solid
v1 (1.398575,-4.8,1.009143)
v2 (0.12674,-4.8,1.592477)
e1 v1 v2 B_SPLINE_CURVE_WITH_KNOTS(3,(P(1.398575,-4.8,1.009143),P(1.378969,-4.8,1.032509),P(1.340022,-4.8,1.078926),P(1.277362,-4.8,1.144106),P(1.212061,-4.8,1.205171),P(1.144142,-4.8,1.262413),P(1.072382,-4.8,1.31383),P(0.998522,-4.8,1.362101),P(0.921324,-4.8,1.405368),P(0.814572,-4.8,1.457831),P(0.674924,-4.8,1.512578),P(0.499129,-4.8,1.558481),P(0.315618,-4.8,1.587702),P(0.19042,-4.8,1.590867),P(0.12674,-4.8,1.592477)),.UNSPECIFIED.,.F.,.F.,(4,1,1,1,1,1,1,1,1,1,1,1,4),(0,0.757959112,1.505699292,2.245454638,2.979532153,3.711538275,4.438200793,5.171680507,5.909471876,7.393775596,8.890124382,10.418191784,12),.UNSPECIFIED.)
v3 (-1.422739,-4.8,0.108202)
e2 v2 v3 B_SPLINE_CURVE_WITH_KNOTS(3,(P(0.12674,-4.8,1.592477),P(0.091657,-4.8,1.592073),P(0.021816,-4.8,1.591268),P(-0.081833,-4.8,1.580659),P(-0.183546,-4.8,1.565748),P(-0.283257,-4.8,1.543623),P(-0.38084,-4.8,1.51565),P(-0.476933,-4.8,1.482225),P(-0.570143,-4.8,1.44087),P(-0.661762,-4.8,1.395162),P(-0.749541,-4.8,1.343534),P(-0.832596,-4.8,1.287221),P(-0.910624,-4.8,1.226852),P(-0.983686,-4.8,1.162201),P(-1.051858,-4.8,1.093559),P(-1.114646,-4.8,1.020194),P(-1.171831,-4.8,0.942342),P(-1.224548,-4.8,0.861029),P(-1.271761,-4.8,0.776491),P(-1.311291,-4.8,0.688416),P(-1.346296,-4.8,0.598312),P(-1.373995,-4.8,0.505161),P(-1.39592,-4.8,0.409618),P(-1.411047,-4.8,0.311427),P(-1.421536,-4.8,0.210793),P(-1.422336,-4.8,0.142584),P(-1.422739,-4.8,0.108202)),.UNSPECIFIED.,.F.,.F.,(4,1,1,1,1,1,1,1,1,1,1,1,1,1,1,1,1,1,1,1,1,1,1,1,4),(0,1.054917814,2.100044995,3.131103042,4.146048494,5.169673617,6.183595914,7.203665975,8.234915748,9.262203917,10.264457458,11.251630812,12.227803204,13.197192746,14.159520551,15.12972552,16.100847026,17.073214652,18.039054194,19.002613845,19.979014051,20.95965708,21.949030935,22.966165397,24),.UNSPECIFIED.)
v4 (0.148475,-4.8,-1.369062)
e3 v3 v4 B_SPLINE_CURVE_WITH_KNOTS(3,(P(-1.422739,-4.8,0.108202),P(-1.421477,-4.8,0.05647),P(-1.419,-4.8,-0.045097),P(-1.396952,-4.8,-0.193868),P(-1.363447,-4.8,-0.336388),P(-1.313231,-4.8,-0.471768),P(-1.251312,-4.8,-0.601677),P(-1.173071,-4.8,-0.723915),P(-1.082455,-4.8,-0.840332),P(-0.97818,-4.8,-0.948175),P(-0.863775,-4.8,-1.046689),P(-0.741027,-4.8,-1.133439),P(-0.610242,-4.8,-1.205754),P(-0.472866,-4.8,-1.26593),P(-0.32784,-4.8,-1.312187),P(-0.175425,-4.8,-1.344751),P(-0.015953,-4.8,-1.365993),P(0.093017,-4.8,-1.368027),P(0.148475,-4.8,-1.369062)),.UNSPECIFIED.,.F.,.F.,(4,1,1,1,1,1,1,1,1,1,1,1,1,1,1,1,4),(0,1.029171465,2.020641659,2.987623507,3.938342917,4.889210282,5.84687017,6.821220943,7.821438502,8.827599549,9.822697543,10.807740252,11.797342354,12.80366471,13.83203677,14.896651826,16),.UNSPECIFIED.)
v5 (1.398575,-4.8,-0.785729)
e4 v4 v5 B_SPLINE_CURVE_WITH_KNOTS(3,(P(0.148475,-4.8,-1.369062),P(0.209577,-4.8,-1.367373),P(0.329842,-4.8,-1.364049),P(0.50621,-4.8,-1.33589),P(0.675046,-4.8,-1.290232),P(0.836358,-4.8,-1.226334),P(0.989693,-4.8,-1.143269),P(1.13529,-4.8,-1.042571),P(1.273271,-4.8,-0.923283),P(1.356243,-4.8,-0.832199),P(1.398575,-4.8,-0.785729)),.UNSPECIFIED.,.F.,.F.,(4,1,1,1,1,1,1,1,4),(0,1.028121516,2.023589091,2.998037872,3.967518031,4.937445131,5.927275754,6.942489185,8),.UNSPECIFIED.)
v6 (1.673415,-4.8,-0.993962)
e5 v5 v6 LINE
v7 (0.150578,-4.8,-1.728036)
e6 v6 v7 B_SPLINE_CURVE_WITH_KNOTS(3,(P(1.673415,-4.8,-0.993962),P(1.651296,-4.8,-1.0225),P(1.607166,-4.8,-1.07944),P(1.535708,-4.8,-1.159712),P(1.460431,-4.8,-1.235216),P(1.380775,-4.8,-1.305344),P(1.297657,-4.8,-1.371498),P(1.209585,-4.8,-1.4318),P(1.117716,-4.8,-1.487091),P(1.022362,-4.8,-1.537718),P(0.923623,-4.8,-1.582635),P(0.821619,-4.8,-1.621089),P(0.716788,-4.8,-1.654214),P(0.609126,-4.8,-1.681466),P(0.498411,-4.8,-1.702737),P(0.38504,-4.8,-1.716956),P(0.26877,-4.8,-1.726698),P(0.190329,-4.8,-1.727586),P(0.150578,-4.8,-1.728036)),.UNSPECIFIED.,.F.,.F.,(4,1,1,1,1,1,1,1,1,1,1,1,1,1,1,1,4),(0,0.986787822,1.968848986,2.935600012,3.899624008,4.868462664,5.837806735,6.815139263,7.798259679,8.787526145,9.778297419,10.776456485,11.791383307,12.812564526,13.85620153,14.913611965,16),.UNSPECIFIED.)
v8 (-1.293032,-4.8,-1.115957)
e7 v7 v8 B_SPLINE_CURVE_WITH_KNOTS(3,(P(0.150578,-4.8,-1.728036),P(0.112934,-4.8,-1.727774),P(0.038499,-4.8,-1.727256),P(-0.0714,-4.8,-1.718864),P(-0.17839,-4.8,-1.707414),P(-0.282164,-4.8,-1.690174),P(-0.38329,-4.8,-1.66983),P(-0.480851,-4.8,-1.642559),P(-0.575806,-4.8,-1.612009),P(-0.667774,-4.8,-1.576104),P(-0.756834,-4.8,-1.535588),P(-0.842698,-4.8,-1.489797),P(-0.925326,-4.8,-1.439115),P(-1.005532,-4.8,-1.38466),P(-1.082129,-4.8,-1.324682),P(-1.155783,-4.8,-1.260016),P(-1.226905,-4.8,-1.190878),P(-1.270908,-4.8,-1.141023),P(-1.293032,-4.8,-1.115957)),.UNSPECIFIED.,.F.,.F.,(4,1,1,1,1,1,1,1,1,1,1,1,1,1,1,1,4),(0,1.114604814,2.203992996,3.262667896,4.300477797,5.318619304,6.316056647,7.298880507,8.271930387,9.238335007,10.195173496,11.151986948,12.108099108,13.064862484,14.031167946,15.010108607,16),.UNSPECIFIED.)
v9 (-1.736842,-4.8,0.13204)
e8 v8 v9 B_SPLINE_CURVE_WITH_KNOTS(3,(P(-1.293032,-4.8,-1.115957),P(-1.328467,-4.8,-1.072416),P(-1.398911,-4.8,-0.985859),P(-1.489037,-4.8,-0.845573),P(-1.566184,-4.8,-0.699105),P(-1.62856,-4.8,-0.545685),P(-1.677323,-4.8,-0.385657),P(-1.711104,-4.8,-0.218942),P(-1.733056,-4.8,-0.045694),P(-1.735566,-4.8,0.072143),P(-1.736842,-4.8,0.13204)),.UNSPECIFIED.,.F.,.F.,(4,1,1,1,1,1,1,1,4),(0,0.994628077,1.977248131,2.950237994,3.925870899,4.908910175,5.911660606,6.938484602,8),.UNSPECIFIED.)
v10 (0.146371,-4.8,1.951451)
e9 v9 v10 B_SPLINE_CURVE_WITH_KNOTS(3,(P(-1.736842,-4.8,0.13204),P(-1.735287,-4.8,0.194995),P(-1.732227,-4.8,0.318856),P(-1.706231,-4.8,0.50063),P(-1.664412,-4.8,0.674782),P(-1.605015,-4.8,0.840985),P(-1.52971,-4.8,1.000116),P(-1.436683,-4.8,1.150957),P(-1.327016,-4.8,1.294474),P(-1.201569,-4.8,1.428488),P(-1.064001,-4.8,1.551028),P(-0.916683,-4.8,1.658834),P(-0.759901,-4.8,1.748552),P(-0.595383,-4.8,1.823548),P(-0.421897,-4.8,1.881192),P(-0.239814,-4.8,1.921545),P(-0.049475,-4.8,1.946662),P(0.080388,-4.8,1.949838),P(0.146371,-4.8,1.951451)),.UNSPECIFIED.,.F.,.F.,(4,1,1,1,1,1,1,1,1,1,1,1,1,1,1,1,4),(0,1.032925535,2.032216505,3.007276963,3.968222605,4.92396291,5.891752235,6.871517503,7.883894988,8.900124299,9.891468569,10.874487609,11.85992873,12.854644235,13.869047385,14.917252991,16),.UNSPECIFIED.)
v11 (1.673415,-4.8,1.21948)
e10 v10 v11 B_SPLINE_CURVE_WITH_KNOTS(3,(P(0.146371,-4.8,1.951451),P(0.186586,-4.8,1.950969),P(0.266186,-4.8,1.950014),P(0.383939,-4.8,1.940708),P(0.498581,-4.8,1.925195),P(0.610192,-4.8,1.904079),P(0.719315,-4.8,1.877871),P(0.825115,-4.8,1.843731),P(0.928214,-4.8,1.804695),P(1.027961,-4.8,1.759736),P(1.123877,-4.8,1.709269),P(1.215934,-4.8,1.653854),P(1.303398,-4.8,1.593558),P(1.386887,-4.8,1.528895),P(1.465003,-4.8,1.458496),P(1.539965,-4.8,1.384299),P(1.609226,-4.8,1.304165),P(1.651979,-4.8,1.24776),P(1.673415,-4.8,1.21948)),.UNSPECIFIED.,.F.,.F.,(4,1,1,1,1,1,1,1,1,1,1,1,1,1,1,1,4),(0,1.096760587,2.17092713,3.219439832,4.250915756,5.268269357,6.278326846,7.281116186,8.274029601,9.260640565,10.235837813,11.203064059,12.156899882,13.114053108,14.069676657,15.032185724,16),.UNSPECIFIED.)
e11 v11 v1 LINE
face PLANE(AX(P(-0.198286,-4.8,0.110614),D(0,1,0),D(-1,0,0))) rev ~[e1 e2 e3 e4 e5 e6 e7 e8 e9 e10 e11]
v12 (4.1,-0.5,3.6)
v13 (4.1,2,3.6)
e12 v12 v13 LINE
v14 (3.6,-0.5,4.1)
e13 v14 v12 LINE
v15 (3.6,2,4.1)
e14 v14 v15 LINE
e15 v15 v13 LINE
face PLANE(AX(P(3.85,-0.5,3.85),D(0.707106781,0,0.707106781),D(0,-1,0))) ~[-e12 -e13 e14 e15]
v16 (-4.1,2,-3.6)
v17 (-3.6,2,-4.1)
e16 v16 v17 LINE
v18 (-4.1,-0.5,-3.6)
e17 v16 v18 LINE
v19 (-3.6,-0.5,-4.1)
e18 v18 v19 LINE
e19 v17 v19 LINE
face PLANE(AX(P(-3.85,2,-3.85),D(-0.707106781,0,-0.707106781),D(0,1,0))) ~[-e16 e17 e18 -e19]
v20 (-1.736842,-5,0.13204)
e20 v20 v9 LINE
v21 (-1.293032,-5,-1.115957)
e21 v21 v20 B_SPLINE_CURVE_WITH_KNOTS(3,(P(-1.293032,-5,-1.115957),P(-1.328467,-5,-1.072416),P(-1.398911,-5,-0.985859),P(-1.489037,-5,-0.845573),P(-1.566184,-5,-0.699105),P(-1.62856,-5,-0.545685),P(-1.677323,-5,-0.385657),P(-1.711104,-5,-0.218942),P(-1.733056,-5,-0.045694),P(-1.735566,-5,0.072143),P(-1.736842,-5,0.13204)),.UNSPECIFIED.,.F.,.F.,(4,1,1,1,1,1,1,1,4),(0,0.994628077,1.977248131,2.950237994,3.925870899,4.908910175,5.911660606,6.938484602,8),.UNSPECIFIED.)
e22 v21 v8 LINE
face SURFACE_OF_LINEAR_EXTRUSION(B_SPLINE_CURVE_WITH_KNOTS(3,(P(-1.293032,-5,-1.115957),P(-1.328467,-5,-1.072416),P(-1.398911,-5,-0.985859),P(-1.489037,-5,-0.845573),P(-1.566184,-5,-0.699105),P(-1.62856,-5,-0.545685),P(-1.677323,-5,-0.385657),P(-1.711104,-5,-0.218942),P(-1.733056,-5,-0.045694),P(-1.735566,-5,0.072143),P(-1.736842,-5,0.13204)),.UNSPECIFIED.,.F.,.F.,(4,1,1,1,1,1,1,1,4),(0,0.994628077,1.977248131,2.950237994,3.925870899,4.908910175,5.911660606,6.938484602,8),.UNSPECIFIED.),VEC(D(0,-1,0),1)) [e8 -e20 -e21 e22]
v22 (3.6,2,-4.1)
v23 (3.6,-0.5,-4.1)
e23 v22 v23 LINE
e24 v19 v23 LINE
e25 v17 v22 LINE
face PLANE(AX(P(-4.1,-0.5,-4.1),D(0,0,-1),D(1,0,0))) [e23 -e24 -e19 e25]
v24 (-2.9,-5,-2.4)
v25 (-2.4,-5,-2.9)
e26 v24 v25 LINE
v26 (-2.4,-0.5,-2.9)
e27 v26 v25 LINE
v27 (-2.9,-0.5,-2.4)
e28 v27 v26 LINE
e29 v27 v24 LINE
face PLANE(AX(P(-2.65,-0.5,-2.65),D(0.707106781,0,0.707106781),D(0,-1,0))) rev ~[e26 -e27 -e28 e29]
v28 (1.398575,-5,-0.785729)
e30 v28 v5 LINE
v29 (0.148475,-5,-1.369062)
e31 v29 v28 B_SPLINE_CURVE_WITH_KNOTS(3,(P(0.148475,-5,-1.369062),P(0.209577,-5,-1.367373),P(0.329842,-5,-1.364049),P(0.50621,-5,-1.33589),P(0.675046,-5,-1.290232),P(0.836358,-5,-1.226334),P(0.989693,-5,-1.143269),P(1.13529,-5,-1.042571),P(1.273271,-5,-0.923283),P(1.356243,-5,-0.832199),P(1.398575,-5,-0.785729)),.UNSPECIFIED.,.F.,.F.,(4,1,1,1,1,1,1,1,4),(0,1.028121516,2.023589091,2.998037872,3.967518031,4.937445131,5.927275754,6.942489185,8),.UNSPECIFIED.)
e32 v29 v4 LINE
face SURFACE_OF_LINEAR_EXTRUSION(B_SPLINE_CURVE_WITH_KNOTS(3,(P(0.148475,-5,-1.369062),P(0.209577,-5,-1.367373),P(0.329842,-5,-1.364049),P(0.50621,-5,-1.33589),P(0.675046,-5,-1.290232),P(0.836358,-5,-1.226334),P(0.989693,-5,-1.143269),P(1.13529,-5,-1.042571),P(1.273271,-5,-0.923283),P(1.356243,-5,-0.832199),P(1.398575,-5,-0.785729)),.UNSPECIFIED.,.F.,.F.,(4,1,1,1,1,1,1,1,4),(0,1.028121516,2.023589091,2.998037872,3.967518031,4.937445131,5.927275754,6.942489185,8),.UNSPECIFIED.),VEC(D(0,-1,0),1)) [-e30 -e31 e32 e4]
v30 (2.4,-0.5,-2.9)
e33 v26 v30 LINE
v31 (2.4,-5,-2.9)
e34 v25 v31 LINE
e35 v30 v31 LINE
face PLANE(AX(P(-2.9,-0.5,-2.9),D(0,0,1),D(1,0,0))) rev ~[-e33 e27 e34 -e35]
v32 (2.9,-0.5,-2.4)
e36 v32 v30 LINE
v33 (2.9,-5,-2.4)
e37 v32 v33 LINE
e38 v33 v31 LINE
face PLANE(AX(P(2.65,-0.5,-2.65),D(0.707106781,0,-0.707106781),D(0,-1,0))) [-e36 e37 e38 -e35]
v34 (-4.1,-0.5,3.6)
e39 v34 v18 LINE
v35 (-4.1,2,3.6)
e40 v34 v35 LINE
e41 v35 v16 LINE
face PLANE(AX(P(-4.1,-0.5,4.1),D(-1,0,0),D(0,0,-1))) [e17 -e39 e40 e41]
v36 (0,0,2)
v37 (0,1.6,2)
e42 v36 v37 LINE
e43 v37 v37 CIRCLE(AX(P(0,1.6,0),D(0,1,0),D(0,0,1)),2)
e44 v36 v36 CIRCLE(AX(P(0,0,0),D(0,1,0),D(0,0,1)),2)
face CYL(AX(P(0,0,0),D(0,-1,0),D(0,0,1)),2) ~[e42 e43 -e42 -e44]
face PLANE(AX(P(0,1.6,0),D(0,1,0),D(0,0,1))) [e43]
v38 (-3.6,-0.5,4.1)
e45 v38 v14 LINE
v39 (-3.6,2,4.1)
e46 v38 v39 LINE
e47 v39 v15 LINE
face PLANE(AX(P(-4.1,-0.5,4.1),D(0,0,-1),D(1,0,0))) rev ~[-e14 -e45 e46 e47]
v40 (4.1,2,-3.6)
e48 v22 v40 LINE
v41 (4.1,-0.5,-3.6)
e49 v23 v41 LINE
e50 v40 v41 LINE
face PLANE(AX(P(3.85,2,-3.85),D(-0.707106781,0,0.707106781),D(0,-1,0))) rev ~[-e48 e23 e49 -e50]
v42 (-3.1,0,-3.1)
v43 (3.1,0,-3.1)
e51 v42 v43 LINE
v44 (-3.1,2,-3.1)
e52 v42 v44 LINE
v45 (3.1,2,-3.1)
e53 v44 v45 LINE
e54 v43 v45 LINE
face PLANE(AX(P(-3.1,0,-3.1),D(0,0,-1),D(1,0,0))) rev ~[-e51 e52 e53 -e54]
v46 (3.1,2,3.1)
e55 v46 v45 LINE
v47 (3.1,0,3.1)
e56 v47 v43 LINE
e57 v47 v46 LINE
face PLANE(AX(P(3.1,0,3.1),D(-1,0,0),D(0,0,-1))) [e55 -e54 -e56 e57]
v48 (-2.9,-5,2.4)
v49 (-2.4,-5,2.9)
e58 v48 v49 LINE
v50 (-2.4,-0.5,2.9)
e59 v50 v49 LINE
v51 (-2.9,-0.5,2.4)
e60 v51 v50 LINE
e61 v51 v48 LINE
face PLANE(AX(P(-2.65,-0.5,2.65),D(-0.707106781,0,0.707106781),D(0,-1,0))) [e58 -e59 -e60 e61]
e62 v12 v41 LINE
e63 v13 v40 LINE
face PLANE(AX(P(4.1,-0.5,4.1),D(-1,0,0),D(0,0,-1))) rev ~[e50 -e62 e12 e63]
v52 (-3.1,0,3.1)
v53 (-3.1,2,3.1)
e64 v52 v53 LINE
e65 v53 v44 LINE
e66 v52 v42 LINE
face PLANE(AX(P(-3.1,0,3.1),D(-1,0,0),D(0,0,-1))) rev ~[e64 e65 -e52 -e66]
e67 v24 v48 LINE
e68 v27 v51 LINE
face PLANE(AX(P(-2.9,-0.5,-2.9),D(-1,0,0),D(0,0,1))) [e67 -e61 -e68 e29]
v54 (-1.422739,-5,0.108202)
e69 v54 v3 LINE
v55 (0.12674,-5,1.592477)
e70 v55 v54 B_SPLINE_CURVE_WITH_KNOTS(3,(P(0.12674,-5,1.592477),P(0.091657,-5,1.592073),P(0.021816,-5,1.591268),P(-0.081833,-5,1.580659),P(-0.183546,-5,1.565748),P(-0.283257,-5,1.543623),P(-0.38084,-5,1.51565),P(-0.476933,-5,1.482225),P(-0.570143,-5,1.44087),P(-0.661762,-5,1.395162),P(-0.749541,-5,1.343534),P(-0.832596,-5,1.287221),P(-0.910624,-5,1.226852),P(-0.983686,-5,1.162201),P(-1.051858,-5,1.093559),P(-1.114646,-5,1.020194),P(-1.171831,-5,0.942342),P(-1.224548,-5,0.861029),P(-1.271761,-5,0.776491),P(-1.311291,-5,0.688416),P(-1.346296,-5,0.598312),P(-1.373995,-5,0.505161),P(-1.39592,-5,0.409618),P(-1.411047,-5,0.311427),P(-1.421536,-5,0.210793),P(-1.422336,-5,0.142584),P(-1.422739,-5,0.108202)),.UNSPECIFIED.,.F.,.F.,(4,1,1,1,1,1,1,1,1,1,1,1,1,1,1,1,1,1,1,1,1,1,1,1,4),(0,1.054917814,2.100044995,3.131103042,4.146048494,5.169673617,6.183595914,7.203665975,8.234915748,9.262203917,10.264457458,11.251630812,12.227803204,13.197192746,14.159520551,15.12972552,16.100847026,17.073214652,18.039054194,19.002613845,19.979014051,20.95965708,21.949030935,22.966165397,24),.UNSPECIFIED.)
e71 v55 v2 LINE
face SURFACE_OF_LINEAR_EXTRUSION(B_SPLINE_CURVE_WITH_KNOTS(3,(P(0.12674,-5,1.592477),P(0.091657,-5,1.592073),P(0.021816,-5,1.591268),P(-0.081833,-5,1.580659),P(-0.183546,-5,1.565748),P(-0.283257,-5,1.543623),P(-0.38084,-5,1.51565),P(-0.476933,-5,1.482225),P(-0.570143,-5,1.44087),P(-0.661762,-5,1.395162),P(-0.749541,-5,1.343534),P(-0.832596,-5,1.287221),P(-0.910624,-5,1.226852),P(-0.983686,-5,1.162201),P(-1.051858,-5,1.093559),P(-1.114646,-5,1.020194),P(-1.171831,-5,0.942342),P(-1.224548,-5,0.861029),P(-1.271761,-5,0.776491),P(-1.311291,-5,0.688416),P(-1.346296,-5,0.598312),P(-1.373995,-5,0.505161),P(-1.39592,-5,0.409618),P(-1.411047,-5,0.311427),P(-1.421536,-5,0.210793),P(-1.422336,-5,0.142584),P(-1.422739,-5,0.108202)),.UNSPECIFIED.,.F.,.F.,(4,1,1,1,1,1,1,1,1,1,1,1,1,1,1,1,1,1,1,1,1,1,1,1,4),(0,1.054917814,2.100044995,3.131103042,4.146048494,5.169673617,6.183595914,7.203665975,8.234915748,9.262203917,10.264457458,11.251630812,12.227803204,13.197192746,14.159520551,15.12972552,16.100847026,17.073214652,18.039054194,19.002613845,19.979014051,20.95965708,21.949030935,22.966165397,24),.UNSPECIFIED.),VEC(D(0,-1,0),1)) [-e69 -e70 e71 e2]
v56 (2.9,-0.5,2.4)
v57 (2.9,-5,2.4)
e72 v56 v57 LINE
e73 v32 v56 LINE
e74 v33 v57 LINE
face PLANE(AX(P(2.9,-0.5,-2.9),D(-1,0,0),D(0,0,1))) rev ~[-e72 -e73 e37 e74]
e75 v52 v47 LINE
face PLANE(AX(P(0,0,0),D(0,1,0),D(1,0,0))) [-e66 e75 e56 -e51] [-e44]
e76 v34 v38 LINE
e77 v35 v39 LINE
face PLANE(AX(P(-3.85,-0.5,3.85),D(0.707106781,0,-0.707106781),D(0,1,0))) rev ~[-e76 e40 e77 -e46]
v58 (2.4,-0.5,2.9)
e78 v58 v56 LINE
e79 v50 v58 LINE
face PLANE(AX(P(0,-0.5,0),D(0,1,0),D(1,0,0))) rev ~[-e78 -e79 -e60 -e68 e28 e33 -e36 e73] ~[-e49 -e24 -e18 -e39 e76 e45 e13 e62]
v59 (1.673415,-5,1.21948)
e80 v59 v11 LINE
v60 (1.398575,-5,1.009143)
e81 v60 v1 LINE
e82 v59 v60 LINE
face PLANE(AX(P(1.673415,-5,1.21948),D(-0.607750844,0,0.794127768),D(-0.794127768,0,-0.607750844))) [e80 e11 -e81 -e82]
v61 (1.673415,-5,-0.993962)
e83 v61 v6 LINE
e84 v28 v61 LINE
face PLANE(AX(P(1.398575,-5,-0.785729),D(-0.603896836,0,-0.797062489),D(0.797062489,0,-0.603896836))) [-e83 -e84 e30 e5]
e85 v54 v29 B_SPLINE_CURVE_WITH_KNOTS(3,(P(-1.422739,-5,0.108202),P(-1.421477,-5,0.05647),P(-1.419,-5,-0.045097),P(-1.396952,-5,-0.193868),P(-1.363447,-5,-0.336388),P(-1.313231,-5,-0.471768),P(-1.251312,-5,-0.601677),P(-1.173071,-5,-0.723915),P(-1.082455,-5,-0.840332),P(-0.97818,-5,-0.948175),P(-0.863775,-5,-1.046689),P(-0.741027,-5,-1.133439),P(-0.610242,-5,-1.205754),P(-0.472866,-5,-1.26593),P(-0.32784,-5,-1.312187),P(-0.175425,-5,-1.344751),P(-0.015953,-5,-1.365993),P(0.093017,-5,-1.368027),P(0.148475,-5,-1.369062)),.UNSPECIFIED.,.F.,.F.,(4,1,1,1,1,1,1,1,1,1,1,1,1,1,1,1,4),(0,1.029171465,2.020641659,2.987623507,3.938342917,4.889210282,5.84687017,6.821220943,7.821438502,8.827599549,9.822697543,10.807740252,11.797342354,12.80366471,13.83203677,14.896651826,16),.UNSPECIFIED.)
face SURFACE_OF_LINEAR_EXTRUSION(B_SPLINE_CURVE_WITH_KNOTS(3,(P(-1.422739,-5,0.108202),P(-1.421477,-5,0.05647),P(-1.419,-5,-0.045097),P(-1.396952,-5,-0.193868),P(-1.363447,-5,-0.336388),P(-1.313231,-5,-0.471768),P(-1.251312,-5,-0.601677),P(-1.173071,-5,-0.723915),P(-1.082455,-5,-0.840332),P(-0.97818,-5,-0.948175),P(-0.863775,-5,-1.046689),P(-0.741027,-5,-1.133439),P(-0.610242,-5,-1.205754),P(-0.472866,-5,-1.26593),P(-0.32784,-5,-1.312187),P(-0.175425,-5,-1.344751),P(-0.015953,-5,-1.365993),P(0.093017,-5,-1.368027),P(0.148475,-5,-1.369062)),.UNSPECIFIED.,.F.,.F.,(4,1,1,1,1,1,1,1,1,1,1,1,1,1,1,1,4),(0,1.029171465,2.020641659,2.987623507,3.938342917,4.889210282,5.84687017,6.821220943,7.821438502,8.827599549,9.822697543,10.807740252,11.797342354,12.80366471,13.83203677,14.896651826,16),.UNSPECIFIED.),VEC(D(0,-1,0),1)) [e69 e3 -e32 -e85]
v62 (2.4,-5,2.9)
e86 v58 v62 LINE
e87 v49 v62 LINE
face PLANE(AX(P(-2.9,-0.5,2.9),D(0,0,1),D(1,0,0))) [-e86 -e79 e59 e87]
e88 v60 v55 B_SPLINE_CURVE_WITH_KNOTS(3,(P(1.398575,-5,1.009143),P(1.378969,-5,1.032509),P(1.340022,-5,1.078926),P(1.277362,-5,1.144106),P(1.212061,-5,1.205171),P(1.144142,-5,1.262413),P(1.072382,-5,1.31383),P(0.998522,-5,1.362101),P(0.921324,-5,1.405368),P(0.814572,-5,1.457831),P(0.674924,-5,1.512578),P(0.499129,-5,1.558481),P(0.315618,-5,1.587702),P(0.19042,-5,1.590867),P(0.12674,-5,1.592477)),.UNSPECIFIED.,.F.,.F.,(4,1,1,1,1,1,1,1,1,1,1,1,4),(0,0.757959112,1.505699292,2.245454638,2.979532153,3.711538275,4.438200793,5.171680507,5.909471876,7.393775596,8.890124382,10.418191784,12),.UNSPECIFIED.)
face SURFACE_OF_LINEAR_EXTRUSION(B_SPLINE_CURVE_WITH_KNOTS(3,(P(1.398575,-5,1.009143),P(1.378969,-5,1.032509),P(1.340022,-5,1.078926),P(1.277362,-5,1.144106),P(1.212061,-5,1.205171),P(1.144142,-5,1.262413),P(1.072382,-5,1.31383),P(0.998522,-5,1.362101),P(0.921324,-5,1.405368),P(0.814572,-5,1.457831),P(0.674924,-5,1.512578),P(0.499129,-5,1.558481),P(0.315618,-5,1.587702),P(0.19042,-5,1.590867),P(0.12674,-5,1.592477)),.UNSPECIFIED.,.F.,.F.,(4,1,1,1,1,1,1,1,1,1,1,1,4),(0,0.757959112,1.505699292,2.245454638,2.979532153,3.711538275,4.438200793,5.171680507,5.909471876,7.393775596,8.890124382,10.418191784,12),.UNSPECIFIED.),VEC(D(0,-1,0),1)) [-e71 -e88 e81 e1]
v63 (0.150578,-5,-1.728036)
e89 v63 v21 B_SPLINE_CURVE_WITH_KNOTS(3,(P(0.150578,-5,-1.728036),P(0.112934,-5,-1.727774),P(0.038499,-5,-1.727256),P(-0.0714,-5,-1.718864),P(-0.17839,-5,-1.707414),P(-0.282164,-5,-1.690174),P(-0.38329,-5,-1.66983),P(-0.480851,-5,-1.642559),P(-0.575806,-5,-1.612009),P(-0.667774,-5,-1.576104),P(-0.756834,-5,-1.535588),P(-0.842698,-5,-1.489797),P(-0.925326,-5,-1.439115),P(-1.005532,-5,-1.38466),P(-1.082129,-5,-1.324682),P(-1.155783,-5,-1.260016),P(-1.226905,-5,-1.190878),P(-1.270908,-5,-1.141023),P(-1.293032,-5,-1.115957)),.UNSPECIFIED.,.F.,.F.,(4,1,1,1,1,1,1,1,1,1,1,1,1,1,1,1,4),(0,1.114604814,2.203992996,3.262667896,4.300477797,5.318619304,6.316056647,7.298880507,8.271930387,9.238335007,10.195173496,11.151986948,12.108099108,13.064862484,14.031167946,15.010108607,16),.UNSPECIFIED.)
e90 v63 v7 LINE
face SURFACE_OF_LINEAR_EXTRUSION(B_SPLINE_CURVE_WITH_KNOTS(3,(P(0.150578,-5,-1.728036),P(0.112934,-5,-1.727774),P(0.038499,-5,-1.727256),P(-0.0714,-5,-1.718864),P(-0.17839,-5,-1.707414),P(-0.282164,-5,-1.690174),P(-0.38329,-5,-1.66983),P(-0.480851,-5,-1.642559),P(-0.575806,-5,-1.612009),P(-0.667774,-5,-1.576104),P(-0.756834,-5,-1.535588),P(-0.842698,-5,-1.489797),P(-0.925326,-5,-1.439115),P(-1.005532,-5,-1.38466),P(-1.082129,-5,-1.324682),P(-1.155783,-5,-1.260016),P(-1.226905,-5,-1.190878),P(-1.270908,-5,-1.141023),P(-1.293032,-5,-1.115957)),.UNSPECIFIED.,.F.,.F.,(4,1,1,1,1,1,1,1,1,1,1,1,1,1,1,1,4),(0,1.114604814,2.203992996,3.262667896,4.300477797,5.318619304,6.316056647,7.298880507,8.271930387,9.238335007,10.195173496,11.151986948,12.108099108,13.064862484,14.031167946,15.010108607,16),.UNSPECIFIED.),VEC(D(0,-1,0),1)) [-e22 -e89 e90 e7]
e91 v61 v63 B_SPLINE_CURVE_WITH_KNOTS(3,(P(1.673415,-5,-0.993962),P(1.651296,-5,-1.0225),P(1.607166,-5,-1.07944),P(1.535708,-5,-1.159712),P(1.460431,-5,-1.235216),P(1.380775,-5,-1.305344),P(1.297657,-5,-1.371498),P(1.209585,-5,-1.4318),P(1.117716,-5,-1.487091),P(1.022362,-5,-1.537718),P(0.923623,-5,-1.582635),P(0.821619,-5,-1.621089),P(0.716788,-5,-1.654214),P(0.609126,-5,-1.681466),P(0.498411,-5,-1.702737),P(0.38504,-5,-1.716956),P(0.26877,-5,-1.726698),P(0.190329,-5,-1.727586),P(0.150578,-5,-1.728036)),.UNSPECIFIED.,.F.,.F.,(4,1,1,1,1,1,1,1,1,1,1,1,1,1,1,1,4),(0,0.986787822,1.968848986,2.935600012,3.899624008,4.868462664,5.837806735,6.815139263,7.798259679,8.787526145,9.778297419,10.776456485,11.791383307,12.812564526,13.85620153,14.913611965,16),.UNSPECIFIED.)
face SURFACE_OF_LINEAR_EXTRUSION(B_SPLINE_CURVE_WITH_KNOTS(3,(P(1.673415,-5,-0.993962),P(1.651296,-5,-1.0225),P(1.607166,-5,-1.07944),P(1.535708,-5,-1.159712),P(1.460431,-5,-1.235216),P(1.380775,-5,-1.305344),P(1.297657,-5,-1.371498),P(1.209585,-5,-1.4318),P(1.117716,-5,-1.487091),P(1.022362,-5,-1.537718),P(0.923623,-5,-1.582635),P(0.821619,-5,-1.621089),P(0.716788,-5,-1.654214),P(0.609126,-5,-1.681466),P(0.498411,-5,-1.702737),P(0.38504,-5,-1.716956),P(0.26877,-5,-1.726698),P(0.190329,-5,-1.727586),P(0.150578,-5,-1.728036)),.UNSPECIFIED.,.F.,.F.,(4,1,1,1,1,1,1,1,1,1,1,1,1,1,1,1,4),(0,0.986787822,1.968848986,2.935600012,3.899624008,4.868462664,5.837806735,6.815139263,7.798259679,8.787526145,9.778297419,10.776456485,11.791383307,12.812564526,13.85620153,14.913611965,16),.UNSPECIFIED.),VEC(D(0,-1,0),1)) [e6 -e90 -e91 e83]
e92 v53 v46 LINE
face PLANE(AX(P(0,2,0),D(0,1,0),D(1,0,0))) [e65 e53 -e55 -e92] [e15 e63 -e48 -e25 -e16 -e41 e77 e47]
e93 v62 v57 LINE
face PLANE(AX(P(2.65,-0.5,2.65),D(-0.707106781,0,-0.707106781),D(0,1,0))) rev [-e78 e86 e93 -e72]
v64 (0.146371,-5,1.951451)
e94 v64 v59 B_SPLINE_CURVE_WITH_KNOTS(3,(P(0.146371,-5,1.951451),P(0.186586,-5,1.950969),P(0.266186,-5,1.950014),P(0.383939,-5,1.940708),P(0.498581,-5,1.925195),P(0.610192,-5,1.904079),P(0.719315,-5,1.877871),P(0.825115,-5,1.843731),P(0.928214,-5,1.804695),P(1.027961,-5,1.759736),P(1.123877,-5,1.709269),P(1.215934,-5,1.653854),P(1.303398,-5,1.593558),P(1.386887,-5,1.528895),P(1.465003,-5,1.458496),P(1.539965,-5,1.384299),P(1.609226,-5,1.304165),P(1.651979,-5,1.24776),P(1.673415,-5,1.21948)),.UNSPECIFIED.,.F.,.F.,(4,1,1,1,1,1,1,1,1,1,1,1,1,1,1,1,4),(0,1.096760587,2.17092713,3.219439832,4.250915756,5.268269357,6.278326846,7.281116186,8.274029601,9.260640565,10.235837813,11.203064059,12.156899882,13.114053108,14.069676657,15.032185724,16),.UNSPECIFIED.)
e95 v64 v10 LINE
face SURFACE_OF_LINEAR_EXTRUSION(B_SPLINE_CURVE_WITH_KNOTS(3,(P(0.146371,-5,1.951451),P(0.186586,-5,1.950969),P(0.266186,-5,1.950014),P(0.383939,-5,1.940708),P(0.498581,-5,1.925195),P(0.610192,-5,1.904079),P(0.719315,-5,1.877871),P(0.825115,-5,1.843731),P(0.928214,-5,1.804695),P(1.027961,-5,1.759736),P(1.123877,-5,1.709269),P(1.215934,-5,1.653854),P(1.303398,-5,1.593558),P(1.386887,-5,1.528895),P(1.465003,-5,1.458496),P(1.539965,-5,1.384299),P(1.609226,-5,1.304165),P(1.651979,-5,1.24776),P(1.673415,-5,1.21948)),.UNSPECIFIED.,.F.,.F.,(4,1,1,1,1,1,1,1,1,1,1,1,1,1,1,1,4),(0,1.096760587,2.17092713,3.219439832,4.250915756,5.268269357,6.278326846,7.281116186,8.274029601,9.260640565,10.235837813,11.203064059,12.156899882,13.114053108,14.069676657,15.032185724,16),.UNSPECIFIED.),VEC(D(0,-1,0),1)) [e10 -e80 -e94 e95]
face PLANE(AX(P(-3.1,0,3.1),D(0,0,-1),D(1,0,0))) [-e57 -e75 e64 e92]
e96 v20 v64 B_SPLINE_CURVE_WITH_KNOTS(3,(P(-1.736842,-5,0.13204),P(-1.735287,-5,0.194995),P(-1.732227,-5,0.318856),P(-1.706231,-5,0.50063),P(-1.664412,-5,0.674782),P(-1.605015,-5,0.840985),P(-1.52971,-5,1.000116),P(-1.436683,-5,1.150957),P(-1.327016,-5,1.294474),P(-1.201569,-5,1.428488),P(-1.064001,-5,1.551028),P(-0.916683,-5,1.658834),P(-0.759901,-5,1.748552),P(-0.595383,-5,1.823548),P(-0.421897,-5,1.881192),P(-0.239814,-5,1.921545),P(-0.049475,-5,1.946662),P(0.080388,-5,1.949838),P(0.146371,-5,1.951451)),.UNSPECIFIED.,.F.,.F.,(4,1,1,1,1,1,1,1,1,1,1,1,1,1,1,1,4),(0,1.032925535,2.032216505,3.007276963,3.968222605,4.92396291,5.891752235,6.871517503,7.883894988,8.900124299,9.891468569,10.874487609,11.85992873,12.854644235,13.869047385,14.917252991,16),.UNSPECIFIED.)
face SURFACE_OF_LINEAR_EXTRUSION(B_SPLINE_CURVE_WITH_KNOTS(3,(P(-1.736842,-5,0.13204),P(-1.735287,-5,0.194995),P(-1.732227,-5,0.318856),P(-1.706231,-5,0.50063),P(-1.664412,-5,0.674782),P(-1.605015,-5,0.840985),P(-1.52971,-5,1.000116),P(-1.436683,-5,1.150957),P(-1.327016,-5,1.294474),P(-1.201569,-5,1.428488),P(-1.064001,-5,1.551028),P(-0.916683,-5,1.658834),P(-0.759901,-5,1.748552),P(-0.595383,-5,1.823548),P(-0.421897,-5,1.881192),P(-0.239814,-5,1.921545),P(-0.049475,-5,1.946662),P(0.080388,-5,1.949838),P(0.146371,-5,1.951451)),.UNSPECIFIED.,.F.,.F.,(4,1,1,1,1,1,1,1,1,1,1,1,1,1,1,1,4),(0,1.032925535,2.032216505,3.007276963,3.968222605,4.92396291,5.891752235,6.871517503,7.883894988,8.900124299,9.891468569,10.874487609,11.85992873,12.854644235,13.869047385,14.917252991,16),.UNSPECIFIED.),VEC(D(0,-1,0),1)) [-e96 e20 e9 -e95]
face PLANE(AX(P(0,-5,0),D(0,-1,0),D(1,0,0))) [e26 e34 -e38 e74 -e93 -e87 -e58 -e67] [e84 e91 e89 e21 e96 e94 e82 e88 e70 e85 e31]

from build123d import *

# Parameters (mm, degrees)
SKETCH1_R           = 2
BOSS_EXTRUDE1_DEPTH = 1.6
SKETCH1_3_W         = 8.2
SKETCH1_3_H         = 8.2
SKETCH1_3_W_2       = 6.2
SKETCH1_3_H_2       = 6.2
BOSS_EXTRUDE2_DEPTH = 2
SKETCH1_4_W         = 8.2
SKETCH1_4_H         = 8.2
BOSS_EXTRUDE3_DEPTH = 0.5
SKETCH3_W           = 5.8
SKETCH3_H           = 5.8
BOSS_EXTRUDE4_DEPTH = 4.5
CHAMFER1_SIZE       = 0.5
CUT_EXTRUDE1_DEPTH  = 0.2


with BuildPart() as part:
    # Sketch1 → Boss-Extrude1 (new body)
    with BuildSketch(Plane(origin=(0, 0, 0), x_dir=(1, 0, 0), z_dir=(0, 1, 0))):
        Circle(SKETCH1_R)
    extrude(amount=BOSS_EXTRUDE1_DEPTH)



with BuildPart() as body_2:
    # Sketch1<3> → Boss-Extrude2 (new body)
    with BuildSketch(Plane(origin=(0, 0, 0), x_dir=(1, 0, 0), z_dir=(0, 1, 0))):
        Rectangle(SKETCH1_3_W, SKETCH1_3_H)
        Rectangle(SKETCH1_3_W_2, SKETCH1_3_H_2, mode=Mode.SUBTRACT)
    extrude(amount=BOSS_EXTRUDE2_DEPTH)


with BuildPart() as part_1:
    add(part.part)

    add(body_2.part)  # Boss-Extrude3 merges body 2
    # Sketch1<4> → Boss-Extrude3 (add)
    with BuildSketch(Plane(origin=(0, 0, 0), x_dir=(1, 0, 0), z_dir=(0, 1, 0))):
        Rectangle(SKETCH1_4_W, SKETCH1_4_H)
    extrude(amount=-BOSS_EXTRUDE3_DEPTH)

    # Sketch3 → Boss-Extrude4 (add)
    with BuildSketch(Plane.XZ.offset(0.5)):
        Rectangle(SKETCH3_W, SKETCH3_H)
    extrude(amount=BOSS_EXTRUDE4_DEPTH)

    # Chamfer1
    chamfer1_edges = [part_1.edges().sort_by_distance(p)[0] for p in [
        (-4.1, 0.75, -4.1),
        (4.1, 0.75, -4.1),
        (-4.1, 0.75, 4.1),
        (4.1, 0.75, 4.1),
        (-2.9, -2.75, 2.9),
        (2.9, -2.75, 2.9),
        (-2.9, -2.75, -2.9),
        (2.9, -2.75, -2.9),
    ]]
    chamfer(chamfer1_edges, length=CHAMFER1_SIZE)

    # Sketch4 → Cut-Extrude1 (cut)
    with BuildSketch(Plane.XZ.offset(5)):
        with BuildLine():
            Line((1.673414591, 1.219479822), (1.398574847, 1.009143283))
            add(Edge.make_bspline(
                [(1.398574847, 1.009143283), (1.378968959, 1.032509253), (1.340021512, 1.078926169), (1.27736231, 1.144105713), (1.212060667, 1.205170975), (1.144141545, 1.262412854), (1.072382426, 1.31382962), (0.998521627, 1.362100723), (0.921323582, 1.405368461), (0.814571847, 1.457831447), (0.674923999, 1.512577602), (0.49912916, 1.558480834), (0.315618062, 1.587702009), (0.190420462, 1.590866851), (0.126739911, 1.592476617)],
                knots=[0, 0, 0, 0, 0.757959112, 1.505699292, 2.245454638, 2.979532153, 3.711538275, 4.438200793, 5.171680507, 5.909471876, 7.393775596, 8.890124382, 10.418191784, 12, 12, 12, 12], degree=3))
            add(Edge.make_bspline(
                [(0.126739911, 1.592476617), (0.091656612, 1.592072654), (0.021815619, 1.591268478), (-0.081832854, 1.580659353), (-0.183545905, 1.565748143), (-0.283257371, 1.54362282), (-0.38084033, 1.515650201), (-0.476932732, 1.482224787), (-0.570143332, 1.440869947), (-0.66176157, 1.395161687), (-0.749540781, 1.343534242), (-0.832595829, 1.28722089), (-0.910623797, 1.226851794), (-0.983686409, 1.162200688), (-1.051858357, 1.093558727), (-1.114645668, 1.020194386), (-1.171831078, 0.942342212), (-1.224548103, 0.861028804), (-1.271760837, 0.776491013), (-1.311290716, 0.688415942), (-1.346295838, 0.598311839), (-1.373995081, 0.505160679), (-1.395919598, 0.409617913), (-1.411047261, 0.311427125), (-1.421535732, 0.210793445), (-1.422335909, 0.142584133), (-1.422739255, 0.108201777)],
                knots=[0, 0, 0, 0, 1.054917814, 2.100044995, 3.131103042, 4.146048494, 5.169673617, 6.183595914, 7.203665975, 8.234915748, 9.262203917, 10.264457458, 11.251630812, 12.227803204, 13.197192746, 14.159520551, 15.12972552, 16.100847026, 17.073214652, 18.039054194, 19.002613845, 19.979014051, 20.95965708, 21.949030935, 22.966165397, 24, 24, 24, 24], degree=3))
            add(Edge.make_bspline(
                [(-1.422739255, 0.108201777), (-1.421477436, 0.056470457), (-1.419000022, -0.045097128), (-1.396951688, -0.193867738), (-1.363446597, -0.336388412), (-1.31323102, -0.471768254), (-1.251311969, -0.601676612), (-1.173071358, -0.723915466), (-1.08245482, -0.84033203), (-0.978180401, -0.948174978), (-0.863774585, -1.046688703), (-0.741026673, -1.133439285), (-0.610242385, -1.205754167), (-0.472865755, -1.265930114), (-0.327839641, -1.312186842), (-0.175424839, -1.344750965), (-0.015952844, -1.365993146), (0.093016556, -1.368026834), (0.148474687, -1.369061845)],
                knots=[0, 0, 0, 0, 1.029171465, 2.020641659, 2.987623507, 3.938342917, 4.889210282, 5.84687017, 6.821220943, 7.821438502, 8.827599549, 9.822697543, 10.807740252, 11.797342354, 12.80366471, 13.83203677, 14.896651826, 16, 16, 16, 16], degree=3))
            add(Edge.make_bspline(
                [(0.148474687, -1.369061845), (0.209577376, -1.367373065), (0.329842085, -1.364049143), (0.506210111, -1.335889893), (0.675045877, -1.290231976), (0.836358463, -1.226334053), (0.98969311, -1.143268765), (1.13528977, -1.042570888), (1.27327134, -0.923282555), (1.356242623, -0.832199427), (1.398574847, -0.785728511)],
                knots=[0, 0, 0, 0, 1.028121516, 2.023589091, 2.998037872, 3.967518031, 4.937445131, 5.927275754, 6.942489185, 8, 8, 8, 8], degree=3))
            Line((1.398574847, -0.785728511), (1.673414591, -0.993961685))
            add(Edge.make_bspline(
                [(1.673414591, -0.993961685), (1.651296481, -1.022500136), (1.607166206, -1.079440343), (1.535708189, -1.159712052), (1.460430891, -1.235216088), (1.380775181, -1.305343709), (1.29765739, -1.371498175), (1.209585077, -1.431800006), (1.117716045, -1.48709089), (1.022361566, -1.537717815), (0.923622953, -1.582635062), (0.821618518, -1.62108883), (0.716787943, -1.654213719), (0.609126434, -1.681465656), (0.498410678, -1.70273674), (0.385040203, -1.716956415), (0.268770328, -1.726698329), (0.190328907, -1.727586245), (0.150578052, -1.728036204)],
                knots=[0, 0, 0, 0, 0.986787822, 1.968848986, 2.935600012, 3.899624008, 4.868462664, 5.837806735, 6.815139263, 7.798259679, 8.787526145, 9.778297419, 10.776456485, 11.791383307, 12.812564526, 13.85620153, 14.913611965, 16, 16, 16, 16], degree=3))
            add(Edge.make_bspline(
                [(0.150578052, -1.728036204), (0.112934385, -1.727774211), (0.038498695, -1.727256153), (-0.071400056, -1.718863986), (-0.178389637, -1.707414249), (-0.282164263, -1.690174118), (-0.383290238, -1.669829778), (-0.480850823, -1.642558521), (-0.575806033, -1.612009355), (-0.667774374, -1.576104368), (-0.756834073, -1.535588185), (-0.842697885, -1.489796627), (-0.925326317, -1.439114762), (-1.005531738, -1.384659751), (-1.082129322, -1.32468245), (-1.155782847, -1.260015815), (-1.226905323, -1.190877804), (-1.270908008, -1.141022951), (-1.293031723, -1.115956877)],
                knots=[0, 0, 0, 0, 1.114604814, 2.203992996, 3.262667896, 4.300477797, 5.318619304, 6.316056647, 7.298880507, 8.271930387, 9.238335007, 10.195173496, 11.151986948, 12.108099108, 13.064862484, 14.031167946, 15.010108607, 16, 16, 16, 16], degree=3))
            add(Edge.make_bspline(
                [(-1.293031723, -1.115956877), (-1.328467367, -1.072415688), (-1.398910844, -0.985858978), (-1.489036527, -0.845572996), (-1.566184082, -0.699104787), (-1.628560003, -0.545684859), (-1.677322736, -0.385657471), (-1.711103931, -0.218941957), (-1.733055536, -0.045694015), (-1.735565825, 0.072142774), (-1.736841819, 0.132039918)],
                knots=[0, 0, 0, 0, 0.994628077, 1.977248131, 2.950237994, 3.925870899, 4.908910175, 5.911660606, 6.938484602, 8, 8, 8, 8], degree=3))
            add(Edge.make_bspline(
                [(-1.736841819, 0.132039918), (-1.735286626, 0.194995372), (-1.73222688, 0.318856296), (-1.706231084, 0.500630249), (-1.664412288, 0.674781648), (-1.605015399, 0.840985393), (-1.529710048, 1.000115673), (-1.436683434, 1.150956878), (-1.327016292, 1.294473678), (-1.201568724, 1.428488429), (-1.064001389, 1.551027782), (-0.916682575, 1.658833985), (-0.759900628, 1.748551501), (-0.595382776, 1.823547664), (-0.421897095, 1.881192127), (-0.239813726, 1.921545313), (-0.049474811, 1.94666243), (0.080387615, 1.949837638), (0.146371322, 1.951450976)],
                knots=[0, 0, 0, 0, 1.032925535, 2.032216505, 3.007276963, 3.968222605, 4.92396291, 5.891752235, 6.871517503, 7.883894988, 8.900124299, 9.891468569, 10.874487609, 11.85992873, 12.854644235, 13.869047385, 14.917252991, 16, 16, 16, 16], degree=3))
            add(Edge.make_bspline(
                [(0.146371322, 1.951450976), (0.186585794, 1.950968838), (0.266186291, 1.950014494), (0.383938943, 1.940708351), (0.49858127, 1.925194745), (0.610192252, 1.904078675), (0.719314868, 1.877871354), (0.825115109, 1.843731056), (0.928213796, 1.804694524), (1.027960704, 1.759736058), (1.123877255, 1.709269317), (1.215933573, 1.653853693), (1.303398432, 1.593557888), (1.38688728, 1.528894712), (1.465003491, 1.458496153), (1.53996497, 1.384298557), (1.609226048, 1.304164733), (1.651979243, 1.247759799), (1.673414591, 1.219479822)],
                knots=[0, 0, 0, 0, 1.096760587, 2.17092713, 3.219439832, 4.250915756, 5.268269357, 6.278326846, 7.281116186, 8.274029601, 9.260640565, 10.235837813, 11.203064059, 12.156899882, 13.114053108, 14.069676657, 15.032185724, 16, 16, 16, 16], degree=3))
        make_face()
    extrude(amount=-CUT_EXTRUDE1_DEPTH, mode=Mode.SUBTRACT)


solid = part_1.part
